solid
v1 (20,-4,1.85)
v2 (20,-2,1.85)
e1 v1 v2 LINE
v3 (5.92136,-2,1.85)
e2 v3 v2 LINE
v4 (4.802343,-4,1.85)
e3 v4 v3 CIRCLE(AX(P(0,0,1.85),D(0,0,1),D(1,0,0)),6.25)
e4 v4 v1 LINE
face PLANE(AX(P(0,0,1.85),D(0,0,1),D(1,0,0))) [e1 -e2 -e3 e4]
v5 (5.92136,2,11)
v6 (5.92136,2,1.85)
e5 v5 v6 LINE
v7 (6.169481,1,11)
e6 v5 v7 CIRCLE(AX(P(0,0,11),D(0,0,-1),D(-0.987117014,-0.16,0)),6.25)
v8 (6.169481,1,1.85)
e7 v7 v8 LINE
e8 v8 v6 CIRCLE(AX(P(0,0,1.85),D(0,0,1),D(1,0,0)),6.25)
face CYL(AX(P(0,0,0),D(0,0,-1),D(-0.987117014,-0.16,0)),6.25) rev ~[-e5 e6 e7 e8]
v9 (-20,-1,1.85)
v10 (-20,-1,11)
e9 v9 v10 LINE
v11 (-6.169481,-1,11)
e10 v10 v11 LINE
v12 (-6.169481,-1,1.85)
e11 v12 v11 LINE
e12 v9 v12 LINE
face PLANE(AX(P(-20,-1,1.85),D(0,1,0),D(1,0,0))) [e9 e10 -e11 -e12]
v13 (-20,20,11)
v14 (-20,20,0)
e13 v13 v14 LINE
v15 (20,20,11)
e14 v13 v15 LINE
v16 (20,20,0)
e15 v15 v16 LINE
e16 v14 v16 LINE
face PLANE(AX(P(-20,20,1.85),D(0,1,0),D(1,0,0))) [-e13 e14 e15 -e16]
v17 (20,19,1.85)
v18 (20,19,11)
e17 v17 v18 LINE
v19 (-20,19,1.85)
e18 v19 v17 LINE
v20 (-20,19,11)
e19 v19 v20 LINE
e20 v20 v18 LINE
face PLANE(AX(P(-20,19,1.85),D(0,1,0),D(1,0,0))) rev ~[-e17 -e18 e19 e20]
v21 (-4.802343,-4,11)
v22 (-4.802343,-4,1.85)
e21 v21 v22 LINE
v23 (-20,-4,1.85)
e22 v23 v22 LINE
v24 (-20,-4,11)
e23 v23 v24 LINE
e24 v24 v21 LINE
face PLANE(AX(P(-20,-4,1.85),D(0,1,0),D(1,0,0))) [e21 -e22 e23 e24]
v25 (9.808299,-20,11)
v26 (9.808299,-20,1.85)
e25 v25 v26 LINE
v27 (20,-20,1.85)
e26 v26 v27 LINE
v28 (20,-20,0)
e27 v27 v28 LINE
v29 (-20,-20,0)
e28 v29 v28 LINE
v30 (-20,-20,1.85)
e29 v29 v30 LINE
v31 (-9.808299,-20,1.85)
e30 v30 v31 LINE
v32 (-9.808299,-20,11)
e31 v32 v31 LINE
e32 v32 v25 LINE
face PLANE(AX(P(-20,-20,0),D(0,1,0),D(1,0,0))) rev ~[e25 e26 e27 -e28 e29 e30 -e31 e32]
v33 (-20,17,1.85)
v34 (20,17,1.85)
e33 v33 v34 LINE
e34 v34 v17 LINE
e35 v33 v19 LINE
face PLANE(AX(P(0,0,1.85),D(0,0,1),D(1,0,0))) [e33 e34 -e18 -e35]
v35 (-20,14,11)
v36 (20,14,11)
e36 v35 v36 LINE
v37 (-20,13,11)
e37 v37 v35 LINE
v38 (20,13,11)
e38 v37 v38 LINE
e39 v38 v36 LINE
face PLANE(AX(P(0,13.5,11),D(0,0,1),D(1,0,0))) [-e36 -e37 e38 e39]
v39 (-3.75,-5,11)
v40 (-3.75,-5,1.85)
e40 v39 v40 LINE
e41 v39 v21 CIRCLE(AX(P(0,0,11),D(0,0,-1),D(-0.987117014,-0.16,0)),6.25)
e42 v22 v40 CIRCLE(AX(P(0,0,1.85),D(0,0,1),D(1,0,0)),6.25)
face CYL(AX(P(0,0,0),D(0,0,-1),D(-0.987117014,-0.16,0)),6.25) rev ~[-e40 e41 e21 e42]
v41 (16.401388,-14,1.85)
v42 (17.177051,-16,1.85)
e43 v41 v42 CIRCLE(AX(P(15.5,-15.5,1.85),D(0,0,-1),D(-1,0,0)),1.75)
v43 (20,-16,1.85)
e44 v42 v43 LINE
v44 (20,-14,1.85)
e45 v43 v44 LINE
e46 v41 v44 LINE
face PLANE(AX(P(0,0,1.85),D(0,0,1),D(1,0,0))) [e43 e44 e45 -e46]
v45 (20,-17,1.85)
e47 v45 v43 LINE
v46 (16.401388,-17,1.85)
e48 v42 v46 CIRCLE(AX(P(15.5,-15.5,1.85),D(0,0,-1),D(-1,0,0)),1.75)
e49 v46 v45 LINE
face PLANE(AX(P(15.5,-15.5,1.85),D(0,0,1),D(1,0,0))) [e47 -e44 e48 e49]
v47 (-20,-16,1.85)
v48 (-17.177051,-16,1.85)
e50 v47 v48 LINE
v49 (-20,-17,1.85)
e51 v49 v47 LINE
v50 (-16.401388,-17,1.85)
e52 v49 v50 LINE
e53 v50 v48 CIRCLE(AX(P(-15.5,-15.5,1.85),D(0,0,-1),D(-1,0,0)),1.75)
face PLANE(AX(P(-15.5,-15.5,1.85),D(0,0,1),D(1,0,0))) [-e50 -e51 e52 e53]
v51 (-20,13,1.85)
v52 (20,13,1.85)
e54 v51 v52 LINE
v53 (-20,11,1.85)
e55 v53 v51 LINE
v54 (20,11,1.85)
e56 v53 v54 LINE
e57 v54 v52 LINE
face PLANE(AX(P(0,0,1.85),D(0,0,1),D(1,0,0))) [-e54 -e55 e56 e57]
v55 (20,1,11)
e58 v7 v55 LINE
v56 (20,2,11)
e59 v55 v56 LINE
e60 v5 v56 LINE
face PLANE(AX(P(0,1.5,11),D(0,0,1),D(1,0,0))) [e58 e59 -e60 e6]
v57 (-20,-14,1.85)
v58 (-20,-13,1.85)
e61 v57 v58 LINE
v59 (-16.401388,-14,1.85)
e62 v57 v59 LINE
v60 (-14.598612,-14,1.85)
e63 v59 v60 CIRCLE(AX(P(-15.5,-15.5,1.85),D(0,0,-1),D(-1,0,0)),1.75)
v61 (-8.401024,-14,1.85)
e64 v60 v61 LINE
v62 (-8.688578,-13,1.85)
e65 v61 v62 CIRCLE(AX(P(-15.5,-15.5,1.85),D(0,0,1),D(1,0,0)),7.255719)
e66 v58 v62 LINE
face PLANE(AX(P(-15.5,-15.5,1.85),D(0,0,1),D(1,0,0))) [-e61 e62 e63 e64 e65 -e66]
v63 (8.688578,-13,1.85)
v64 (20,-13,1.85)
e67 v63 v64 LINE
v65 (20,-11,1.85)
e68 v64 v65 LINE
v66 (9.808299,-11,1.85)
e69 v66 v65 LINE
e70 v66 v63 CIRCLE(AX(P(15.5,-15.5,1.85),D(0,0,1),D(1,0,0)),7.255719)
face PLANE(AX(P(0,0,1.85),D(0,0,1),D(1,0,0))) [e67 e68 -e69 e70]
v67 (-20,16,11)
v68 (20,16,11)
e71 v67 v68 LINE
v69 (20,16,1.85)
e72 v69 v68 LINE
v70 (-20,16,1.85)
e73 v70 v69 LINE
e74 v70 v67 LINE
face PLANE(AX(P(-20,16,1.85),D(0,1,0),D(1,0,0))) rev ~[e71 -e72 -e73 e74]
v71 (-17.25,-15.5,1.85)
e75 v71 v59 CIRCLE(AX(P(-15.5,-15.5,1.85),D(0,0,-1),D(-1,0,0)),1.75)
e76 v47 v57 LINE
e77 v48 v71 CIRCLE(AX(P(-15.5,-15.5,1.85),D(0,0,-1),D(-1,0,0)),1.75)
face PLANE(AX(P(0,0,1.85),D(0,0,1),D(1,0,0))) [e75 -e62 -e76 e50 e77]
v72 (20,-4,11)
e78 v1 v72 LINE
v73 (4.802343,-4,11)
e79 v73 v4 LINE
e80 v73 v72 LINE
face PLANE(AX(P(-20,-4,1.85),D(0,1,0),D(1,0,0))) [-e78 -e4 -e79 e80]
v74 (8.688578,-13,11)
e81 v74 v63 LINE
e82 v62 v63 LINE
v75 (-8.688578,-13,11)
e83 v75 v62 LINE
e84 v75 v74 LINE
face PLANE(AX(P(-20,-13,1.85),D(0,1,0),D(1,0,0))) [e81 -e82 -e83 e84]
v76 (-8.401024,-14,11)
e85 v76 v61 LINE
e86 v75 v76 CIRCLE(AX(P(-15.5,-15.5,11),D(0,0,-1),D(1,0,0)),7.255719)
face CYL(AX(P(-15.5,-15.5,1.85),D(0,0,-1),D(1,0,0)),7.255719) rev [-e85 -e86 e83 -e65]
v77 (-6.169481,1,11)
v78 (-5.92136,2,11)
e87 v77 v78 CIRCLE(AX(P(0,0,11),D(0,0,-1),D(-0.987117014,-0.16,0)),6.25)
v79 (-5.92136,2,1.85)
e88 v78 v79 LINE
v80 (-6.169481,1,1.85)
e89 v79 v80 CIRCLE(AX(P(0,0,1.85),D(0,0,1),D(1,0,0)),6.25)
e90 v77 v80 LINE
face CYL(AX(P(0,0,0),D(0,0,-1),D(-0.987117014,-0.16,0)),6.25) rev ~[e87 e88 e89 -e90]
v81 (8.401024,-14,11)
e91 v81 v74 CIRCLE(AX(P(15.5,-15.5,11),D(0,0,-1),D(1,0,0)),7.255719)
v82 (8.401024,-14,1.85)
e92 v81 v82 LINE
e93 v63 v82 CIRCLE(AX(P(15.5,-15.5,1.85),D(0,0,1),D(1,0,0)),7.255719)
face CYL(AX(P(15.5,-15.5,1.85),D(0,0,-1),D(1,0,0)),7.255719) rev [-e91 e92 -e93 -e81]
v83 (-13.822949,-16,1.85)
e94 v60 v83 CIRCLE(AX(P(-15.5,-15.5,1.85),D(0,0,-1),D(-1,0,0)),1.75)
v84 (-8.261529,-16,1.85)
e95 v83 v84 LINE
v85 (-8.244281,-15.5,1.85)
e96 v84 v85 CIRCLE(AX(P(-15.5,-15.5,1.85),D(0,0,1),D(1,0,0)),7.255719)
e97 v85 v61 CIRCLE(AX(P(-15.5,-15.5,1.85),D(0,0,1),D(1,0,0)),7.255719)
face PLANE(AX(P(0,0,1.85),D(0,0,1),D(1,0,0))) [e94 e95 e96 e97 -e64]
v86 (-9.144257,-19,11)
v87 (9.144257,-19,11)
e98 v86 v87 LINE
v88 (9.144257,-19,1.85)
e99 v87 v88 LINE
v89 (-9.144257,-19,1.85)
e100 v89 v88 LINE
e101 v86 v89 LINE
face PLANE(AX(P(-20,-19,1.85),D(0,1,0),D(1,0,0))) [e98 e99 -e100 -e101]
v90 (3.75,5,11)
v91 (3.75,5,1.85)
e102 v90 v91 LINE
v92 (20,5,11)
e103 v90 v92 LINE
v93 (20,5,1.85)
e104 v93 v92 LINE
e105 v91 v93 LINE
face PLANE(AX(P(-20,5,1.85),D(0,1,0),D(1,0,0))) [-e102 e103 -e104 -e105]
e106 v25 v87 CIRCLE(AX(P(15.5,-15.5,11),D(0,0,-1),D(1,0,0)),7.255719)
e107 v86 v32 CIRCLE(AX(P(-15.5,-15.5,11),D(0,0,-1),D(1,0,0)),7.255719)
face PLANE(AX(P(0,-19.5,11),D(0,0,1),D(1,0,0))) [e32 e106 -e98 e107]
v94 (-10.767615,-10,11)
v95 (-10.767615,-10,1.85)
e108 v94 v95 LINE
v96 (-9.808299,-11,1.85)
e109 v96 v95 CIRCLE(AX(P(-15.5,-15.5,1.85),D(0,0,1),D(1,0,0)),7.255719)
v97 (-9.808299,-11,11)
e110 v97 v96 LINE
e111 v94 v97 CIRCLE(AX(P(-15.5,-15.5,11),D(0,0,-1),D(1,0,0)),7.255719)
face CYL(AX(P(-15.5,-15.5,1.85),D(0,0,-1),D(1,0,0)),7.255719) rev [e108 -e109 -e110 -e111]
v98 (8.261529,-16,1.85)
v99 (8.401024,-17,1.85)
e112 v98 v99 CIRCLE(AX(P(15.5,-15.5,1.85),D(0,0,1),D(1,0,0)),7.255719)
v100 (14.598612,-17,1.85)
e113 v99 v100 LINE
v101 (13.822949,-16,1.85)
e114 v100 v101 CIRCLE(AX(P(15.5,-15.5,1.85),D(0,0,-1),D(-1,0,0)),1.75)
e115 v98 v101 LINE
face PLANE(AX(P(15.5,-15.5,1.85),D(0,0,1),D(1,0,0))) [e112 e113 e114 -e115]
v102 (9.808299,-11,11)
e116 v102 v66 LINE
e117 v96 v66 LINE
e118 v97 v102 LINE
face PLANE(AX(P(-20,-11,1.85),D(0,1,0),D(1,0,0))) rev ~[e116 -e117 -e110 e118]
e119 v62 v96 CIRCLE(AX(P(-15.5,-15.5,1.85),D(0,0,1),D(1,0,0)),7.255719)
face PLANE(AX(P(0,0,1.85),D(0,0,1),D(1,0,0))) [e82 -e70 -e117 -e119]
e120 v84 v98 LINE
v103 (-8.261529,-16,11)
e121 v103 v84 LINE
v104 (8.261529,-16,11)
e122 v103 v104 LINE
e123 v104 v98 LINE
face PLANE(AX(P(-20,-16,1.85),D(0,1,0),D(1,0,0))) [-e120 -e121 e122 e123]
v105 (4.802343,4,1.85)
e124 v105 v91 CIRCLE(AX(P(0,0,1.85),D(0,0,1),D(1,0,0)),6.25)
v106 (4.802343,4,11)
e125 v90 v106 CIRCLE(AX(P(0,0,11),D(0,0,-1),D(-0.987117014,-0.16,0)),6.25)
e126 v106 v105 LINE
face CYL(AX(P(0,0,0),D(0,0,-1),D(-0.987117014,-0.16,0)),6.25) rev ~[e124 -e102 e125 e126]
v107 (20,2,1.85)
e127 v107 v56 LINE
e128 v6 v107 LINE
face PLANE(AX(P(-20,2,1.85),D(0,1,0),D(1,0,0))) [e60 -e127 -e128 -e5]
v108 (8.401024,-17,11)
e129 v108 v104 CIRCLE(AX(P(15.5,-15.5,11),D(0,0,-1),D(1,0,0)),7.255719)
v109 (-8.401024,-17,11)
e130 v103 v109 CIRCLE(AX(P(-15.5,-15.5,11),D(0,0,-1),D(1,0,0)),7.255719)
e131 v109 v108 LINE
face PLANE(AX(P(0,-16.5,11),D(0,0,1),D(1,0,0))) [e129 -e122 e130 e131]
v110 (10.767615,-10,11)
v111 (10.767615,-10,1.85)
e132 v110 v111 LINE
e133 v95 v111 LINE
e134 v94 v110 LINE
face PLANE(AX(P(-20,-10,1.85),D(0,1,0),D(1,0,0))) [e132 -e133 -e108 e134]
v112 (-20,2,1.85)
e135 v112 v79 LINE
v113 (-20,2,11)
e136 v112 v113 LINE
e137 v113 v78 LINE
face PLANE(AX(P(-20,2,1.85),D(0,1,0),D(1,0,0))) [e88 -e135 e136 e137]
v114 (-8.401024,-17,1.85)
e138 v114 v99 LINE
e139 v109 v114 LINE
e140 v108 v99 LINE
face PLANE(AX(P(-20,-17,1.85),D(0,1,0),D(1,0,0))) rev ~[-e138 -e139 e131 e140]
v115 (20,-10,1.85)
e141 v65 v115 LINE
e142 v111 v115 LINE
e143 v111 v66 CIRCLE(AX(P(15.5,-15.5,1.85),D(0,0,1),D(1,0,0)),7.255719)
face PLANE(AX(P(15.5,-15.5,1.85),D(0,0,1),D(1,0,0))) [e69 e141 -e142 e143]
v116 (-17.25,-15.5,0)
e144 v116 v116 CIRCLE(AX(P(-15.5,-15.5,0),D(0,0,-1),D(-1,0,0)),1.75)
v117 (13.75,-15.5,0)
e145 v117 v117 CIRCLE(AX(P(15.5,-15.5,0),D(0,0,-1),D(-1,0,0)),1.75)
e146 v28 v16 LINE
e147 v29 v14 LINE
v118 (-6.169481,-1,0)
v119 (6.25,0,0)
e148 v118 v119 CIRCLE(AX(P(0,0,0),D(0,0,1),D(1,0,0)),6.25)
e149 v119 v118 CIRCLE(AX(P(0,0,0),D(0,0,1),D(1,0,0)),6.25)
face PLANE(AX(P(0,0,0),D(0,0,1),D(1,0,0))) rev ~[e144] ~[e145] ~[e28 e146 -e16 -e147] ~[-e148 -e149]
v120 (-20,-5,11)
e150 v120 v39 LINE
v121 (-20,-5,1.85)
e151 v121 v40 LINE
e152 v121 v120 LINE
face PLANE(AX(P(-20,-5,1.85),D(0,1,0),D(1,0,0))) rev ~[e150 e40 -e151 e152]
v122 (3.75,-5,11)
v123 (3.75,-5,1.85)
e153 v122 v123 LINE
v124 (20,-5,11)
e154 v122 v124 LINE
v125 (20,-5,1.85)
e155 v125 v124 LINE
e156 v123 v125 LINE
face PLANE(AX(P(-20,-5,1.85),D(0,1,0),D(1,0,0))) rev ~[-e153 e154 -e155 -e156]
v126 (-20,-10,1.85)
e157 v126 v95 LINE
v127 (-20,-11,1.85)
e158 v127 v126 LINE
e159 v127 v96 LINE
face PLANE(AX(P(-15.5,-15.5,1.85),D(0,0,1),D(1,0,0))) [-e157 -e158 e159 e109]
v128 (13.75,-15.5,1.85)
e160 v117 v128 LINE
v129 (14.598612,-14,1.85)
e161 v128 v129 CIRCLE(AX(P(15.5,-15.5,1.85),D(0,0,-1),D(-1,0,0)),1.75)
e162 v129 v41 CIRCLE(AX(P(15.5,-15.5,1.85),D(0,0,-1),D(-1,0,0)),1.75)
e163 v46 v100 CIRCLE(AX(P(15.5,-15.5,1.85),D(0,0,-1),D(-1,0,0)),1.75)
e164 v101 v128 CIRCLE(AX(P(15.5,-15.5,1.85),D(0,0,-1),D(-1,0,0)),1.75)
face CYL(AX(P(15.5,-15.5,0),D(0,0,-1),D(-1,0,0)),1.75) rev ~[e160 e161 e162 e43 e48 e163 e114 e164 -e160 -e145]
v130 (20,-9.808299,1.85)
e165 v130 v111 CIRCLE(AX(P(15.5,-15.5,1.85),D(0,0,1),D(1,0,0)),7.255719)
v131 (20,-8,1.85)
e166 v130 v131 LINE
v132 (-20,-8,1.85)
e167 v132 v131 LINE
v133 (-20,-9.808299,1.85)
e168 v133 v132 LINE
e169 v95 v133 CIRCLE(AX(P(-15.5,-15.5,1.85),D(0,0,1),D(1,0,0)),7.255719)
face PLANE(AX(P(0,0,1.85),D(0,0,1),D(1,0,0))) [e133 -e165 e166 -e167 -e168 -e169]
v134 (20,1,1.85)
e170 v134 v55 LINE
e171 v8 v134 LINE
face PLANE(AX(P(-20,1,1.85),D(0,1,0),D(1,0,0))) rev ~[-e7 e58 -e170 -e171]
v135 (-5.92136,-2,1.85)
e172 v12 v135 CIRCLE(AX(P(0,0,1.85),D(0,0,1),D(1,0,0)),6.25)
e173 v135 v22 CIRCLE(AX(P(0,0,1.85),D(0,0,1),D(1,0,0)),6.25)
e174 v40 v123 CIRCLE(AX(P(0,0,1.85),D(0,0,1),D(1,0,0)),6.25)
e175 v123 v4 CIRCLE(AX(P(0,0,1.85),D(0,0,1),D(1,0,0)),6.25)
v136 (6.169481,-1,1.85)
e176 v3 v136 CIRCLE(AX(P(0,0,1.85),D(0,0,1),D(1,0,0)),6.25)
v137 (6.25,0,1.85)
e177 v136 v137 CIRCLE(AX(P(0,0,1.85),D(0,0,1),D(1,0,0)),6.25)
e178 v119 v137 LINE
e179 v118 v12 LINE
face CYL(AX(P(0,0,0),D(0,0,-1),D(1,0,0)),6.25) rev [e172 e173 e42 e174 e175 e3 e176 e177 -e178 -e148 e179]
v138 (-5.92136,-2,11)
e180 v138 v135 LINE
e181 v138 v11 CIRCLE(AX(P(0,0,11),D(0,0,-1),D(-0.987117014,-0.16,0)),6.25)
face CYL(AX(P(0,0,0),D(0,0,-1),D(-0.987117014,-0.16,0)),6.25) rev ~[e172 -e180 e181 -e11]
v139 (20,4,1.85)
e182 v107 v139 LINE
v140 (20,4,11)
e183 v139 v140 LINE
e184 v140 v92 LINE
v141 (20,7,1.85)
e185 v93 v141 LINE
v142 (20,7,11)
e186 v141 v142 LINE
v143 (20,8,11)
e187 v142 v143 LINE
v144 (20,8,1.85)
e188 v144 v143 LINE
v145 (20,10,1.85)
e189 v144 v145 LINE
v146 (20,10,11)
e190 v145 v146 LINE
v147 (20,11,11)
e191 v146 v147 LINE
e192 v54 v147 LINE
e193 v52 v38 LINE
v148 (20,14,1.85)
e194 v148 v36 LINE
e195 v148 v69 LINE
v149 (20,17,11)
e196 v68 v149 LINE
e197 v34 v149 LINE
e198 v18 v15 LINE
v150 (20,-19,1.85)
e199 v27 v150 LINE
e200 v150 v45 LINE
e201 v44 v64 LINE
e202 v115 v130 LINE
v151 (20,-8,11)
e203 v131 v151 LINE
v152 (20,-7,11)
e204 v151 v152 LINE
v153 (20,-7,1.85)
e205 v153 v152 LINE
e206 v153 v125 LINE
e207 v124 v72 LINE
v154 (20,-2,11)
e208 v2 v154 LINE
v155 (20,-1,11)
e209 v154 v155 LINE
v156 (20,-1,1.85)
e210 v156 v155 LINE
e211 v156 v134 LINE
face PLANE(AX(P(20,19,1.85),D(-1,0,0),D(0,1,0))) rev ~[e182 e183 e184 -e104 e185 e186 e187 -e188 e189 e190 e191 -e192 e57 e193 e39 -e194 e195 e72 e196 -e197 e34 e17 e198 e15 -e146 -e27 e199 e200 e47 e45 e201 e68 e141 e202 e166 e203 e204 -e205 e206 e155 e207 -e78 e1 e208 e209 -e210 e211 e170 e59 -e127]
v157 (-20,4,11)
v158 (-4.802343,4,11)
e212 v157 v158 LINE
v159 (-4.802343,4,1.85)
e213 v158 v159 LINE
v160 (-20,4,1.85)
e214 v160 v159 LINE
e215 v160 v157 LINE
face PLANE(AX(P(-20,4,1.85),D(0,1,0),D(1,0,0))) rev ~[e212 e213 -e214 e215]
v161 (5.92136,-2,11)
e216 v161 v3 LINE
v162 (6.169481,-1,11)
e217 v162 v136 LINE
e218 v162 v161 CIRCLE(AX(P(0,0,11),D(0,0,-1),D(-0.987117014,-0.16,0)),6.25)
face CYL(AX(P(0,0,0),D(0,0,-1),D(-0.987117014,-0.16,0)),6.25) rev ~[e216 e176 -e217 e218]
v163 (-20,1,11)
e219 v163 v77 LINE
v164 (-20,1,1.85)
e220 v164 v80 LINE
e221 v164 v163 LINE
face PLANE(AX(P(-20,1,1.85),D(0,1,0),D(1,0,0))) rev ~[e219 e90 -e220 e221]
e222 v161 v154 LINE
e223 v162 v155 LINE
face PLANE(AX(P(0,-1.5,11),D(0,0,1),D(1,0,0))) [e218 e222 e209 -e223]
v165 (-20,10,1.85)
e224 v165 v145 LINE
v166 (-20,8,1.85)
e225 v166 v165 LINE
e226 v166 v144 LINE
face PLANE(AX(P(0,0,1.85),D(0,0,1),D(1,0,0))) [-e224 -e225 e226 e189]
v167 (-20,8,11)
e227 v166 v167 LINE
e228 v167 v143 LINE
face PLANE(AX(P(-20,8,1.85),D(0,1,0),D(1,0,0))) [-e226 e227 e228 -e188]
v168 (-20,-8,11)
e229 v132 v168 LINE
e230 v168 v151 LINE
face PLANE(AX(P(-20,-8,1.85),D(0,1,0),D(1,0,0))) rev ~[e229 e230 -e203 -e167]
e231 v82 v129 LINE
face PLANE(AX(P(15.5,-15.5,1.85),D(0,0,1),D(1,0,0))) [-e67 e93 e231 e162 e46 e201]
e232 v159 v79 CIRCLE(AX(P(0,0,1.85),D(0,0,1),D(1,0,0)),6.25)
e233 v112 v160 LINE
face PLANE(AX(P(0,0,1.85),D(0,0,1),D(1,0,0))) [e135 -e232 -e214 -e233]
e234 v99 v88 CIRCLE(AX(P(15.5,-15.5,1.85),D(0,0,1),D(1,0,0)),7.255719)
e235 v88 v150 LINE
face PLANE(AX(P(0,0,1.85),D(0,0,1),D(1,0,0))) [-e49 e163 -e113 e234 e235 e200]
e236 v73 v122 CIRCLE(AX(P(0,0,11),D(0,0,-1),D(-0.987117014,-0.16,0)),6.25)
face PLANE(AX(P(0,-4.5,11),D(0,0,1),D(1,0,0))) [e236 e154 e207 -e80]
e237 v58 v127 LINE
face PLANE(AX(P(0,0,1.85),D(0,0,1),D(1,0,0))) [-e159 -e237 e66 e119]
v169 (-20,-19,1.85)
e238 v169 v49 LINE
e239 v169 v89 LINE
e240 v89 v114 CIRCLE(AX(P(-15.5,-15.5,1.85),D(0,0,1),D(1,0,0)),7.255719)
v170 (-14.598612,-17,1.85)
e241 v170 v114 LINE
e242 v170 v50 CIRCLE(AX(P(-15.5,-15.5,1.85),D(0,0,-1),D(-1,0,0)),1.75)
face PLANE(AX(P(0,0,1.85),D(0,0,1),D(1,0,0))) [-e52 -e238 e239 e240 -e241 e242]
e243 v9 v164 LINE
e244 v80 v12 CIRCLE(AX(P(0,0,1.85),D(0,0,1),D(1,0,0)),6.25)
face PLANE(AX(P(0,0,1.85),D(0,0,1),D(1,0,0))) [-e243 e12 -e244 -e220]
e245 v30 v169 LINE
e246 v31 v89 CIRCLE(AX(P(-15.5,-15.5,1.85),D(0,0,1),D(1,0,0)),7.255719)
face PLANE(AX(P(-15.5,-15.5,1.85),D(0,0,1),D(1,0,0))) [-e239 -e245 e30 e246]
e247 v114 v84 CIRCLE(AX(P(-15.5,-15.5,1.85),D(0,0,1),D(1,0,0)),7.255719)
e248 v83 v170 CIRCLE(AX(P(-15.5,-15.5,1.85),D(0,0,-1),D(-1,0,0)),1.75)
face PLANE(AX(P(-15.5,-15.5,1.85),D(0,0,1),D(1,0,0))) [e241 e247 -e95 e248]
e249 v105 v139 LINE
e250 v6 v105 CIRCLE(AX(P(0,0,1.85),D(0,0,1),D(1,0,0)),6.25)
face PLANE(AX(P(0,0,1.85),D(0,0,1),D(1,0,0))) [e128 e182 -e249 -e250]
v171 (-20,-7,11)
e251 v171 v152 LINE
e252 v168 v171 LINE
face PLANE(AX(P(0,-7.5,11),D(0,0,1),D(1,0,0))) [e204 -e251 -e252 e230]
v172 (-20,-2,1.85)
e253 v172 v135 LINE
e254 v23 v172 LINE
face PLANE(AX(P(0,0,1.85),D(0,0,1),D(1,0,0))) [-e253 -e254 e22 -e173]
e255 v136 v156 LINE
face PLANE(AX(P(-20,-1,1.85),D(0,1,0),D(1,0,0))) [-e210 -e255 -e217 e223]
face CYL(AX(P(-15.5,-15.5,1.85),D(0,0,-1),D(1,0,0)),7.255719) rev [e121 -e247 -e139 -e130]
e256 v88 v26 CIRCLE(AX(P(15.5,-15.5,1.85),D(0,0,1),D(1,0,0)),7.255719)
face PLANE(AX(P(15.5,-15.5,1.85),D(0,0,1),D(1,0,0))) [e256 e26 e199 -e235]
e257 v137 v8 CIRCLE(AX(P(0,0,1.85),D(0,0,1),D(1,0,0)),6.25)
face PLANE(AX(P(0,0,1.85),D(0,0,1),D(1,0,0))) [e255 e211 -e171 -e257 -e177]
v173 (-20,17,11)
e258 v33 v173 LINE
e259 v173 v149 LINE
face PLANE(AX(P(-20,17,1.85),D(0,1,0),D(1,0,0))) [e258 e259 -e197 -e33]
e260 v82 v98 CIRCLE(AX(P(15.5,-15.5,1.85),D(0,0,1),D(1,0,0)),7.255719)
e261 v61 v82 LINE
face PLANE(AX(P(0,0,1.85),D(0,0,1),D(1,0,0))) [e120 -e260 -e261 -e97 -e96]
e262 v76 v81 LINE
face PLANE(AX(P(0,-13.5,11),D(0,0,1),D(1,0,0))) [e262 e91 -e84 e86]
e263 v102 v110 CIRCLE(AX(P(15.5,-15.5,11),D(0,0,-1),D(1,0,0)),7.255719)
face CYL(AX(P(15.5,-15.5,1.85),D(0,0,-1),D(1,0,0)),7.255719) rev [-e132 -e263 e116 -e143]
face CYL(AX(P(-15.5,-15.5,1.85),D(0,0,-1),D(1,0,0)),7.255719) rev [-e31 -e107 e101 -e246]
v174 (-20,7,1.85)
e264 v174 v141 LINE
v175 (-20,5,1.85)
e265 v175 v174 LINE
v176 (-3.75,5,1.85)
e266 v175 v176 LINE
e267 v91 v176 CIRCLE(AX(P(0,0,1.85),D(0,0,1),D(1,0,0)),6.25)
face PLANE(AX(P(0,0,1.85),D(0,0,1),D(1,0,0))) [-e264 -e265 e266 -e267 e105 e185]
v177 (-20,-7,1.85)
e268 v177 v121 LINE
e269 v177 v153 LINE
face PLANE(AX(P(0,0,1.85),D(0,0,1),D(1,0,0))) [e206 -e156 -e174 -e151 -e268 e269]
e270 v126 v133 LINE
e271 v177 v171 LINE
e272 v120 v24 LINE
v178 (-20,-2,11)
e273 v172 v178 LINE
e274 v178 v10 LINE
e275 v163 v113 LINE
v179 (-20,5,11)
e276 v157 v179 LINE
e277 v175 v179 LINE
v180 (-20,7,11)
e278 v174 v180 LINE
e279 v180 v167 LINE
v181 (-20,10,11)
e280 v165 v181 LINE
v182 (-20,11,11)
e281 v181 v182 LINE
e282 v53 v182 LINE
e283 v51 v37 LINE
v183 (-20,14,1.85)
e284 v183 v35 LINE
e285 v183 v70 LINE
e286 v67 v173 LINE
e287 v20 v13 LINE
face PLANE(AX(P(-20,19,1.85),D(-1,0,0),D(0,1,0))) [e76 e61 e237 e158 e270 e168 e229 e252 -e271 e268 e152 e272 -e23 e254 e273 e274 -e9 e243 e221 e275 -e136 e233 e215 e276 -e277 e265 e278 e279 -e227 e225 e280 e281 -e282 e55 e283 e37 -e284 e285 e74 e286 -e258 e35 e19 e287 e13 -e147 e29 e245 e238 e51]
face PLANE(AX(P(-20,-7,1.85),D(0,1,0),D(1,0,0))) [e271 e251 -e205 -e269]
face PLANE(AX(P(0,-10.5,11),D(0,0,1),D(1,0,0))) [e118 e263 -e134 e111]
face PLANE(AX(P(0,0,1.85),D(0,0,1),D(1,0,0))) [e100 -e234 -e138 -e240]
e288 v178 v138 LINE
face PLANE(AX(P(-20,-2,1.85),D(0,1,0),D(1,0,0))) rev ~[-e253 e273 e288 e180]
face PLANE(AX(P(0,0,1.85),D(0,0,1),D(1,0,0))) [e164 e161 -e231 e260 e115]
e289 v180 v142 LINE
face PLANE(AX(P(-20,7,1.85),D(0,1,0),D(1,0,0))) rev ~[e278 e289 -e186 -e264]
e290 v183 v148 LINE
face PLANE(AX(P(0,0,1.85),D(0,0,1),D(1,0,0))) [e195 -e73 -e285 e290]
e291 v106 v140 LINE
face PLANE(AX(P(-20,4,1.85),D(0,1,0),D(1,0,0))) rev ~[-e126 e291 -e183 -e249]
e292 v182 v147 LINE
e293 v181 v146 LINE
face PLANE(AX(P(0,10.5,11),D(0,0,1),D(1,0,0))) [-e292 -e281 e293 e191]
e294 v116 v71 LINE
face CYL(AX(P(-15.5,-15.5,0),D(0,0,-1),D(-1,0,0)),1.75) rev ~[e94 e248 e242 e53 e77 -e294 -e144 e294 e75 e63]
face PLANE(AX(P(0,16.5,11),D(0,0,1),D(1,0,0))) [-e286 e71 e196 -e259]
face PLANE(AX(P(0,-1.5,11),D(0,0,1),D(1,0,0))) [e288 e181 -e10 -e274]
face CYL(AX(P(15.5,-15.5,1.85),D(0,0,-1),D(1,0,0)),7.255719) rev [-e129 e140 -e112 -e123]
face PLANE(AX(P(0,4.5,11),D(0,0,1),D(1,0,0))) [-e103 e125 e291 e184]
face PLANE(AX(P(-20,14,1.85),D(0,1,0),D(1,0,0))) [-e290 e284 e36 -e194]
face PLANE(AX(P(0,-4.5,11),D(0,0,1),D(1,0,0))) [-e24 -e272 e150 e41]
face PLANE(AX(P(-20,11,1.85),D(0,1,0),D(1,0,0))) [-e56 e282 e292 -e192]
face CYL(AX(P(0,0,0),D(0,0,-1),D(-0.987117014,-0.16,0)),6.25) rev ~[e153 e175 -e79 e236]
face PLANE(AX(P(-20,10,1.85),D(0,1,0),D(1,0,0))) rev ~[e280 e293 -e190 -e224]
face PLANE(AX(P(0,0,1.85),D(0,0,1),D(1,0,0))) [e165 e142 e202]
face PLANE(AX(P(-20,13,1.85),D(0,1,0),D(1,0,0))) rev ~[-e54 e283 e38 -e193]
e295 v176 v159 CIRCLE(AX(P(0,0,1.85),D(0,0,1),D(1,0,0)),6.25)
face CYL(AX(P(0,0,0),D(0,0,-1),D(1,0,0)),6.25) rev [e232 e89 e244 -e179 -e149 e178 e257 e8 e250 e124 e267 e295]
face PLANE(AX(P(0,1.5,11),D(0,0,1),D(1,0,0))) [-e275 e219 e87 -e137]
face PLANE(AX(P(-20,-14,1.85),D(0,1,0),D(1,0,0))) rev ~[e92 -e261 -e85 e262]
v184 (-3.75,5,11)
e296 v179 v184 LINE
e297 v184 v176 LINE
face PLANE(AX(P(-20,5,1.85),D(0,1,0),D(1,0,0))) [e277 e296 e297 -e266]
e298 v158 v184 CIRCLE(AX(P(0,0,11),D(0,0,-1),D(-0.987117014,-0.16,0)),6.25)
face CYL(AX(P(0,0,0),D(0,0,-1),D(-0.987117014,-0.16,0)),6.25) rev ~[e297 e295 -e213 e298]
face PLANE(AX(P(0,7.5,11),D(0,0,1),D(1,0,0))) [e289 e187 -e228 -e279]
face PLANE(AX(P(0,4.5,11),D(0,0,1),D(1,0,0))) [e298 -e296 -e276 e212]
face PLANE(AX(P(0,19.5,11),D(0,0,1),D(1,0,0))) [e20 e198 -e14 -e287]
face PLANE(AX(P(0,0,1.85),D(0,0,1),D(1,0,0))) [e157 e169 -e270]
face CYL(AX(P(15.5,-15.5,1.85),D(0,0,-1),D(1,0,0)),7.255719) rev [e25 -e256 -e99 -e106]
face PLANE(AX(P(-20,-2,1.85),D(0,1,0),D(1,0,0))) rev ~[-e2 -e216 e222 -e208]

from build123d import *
from build123d.topology import SkipClean

# Parameters (mm, degrees)
SKETCH_1_W          = 40
SKETCH_1_H          = 40
SKETCH_1_R          = 6.25
EXTRUDE_1_DEPTH     = 1.85
SKETCH_2_W          = 40
SKETCH_2_H          = 1
EXTRUDE_2_DEPTH     = 9.15
SKETCH_3_R          = 1.75
SKETCH_3_R_2        = 6.25
CUT_EXTRUDE_5_DEPTH = 31.347981811
SKETCH_4_R          = 7.255719344
CUT_EXTRUDE_6_DEPTH = 16.15


with BuildPart() as part:
    # 草图1 → 凸台-拉伸1 (new body)
    with BuildSketch(Plane.XY):
        Rectangle(SKETCH_1_W, SKETCH_1_H)
        Circle(SKETCH_1_R, mode=Mode.SUBTRACT)
    extrude(amount=EXTRUDE_1_DEPTH)

    # 草图2 → 凸台-拉伸2 (add)
    with BuildSketch(Plane.XY.offset(1.85)):
        with Locations((0, 19.5)):
            Rectangle(SKETCH_2_W, SKETCH_2_H)
        with Locations((0, 16.5)):
            Rectangle(SKETCH_2_W, SKETCH_2_H)
        with Locations((0, 13.5)):
            Rectangle(SKETCH_2_W, SKETCH_2_H)
        with Locations((0, 10.5)):
            Rectangle(SKETCH_2_W, SKETCH_2_H)
        with Locations((0, 7.5)):
            Rectangle(SKETCH_2_W, SKETCH_2_H)
        with Locations((0, 4.5)):
            Rectangle(SKETCH_2_W, SKETCH_2_H)
        with Locations((0, 1.5)):
            Rectangle(SKETCH_2_W, SKETCH_2_H)
        with Locations((0, -1.5)):
            Rectangle(SKETCH_2_W, SKETCH_2_H)
        with Locations((0, -4.5)):
            Rectangle(SKETCH_2_W, SKETCH_2_H)
        with Locations((0, -7.5)):
            Rectangle(SKETCH_2_W, SKETCH_2_H)
        with Locations((0, -10.5)):
            Rectangle(SKETCH_2_W, SKETCH_2_H)
        with Locations((0, -13.5)):
            Rectangle(SKETCH_2_W, SKETCH_2_H)
        with Locations((0, -16.5)):
            Rectangle(SKETCH_2_W, SKETCH_2_H)
        with Locations((0, -19.5)):
            Rectangle(SKETCH_2_W, SKETCH_2_H)
    extrude(amount=EXTRUDE_2_DEPTH)

    # 草图3 → 切除-拉伸5 (cut, through all)
    with SkipClean():  # the faces are left unmerged after this step: merging them gives an invalid solid
        with BuildSketch(Plane(origin=(0, 0, 0), x_dir=(-1, 0, 0), z_dir=(0, 0, -1))):
            with Locations((-15.5, -15.5)):
                Circle(SKETCH_3_R)
            with Locations((15.5, -15.5)):
                Circle(SKETCH_3_R)
            with Locations(Location((0, 0, 0), (0, 0, 350.793103779))):
                Circle(SKETCH_3_R_2)
        extrude(amount=-CUT_EXTRUDE_5_DEPTH, mode=Mode.SUBTRACT)

    # 草图4 → 切除-拉伸6 (cut)
    with SkipClean():  # the faces are left unmerged after this step: merging them gives an invalid solid
        with BuildSketch(Plane.XY.offset(1.85)):
            with Locations((-15.5, -15.5)):
                Circle(SKETCH_4_R)
            with Locations((15.5, -15.5)):
                Circle(SKETCH_4_R)
        extrude(amount=CUT_EXTRUDE_6_DEPTH, mode=Mode.SUBTRACT)


solid = part.part
